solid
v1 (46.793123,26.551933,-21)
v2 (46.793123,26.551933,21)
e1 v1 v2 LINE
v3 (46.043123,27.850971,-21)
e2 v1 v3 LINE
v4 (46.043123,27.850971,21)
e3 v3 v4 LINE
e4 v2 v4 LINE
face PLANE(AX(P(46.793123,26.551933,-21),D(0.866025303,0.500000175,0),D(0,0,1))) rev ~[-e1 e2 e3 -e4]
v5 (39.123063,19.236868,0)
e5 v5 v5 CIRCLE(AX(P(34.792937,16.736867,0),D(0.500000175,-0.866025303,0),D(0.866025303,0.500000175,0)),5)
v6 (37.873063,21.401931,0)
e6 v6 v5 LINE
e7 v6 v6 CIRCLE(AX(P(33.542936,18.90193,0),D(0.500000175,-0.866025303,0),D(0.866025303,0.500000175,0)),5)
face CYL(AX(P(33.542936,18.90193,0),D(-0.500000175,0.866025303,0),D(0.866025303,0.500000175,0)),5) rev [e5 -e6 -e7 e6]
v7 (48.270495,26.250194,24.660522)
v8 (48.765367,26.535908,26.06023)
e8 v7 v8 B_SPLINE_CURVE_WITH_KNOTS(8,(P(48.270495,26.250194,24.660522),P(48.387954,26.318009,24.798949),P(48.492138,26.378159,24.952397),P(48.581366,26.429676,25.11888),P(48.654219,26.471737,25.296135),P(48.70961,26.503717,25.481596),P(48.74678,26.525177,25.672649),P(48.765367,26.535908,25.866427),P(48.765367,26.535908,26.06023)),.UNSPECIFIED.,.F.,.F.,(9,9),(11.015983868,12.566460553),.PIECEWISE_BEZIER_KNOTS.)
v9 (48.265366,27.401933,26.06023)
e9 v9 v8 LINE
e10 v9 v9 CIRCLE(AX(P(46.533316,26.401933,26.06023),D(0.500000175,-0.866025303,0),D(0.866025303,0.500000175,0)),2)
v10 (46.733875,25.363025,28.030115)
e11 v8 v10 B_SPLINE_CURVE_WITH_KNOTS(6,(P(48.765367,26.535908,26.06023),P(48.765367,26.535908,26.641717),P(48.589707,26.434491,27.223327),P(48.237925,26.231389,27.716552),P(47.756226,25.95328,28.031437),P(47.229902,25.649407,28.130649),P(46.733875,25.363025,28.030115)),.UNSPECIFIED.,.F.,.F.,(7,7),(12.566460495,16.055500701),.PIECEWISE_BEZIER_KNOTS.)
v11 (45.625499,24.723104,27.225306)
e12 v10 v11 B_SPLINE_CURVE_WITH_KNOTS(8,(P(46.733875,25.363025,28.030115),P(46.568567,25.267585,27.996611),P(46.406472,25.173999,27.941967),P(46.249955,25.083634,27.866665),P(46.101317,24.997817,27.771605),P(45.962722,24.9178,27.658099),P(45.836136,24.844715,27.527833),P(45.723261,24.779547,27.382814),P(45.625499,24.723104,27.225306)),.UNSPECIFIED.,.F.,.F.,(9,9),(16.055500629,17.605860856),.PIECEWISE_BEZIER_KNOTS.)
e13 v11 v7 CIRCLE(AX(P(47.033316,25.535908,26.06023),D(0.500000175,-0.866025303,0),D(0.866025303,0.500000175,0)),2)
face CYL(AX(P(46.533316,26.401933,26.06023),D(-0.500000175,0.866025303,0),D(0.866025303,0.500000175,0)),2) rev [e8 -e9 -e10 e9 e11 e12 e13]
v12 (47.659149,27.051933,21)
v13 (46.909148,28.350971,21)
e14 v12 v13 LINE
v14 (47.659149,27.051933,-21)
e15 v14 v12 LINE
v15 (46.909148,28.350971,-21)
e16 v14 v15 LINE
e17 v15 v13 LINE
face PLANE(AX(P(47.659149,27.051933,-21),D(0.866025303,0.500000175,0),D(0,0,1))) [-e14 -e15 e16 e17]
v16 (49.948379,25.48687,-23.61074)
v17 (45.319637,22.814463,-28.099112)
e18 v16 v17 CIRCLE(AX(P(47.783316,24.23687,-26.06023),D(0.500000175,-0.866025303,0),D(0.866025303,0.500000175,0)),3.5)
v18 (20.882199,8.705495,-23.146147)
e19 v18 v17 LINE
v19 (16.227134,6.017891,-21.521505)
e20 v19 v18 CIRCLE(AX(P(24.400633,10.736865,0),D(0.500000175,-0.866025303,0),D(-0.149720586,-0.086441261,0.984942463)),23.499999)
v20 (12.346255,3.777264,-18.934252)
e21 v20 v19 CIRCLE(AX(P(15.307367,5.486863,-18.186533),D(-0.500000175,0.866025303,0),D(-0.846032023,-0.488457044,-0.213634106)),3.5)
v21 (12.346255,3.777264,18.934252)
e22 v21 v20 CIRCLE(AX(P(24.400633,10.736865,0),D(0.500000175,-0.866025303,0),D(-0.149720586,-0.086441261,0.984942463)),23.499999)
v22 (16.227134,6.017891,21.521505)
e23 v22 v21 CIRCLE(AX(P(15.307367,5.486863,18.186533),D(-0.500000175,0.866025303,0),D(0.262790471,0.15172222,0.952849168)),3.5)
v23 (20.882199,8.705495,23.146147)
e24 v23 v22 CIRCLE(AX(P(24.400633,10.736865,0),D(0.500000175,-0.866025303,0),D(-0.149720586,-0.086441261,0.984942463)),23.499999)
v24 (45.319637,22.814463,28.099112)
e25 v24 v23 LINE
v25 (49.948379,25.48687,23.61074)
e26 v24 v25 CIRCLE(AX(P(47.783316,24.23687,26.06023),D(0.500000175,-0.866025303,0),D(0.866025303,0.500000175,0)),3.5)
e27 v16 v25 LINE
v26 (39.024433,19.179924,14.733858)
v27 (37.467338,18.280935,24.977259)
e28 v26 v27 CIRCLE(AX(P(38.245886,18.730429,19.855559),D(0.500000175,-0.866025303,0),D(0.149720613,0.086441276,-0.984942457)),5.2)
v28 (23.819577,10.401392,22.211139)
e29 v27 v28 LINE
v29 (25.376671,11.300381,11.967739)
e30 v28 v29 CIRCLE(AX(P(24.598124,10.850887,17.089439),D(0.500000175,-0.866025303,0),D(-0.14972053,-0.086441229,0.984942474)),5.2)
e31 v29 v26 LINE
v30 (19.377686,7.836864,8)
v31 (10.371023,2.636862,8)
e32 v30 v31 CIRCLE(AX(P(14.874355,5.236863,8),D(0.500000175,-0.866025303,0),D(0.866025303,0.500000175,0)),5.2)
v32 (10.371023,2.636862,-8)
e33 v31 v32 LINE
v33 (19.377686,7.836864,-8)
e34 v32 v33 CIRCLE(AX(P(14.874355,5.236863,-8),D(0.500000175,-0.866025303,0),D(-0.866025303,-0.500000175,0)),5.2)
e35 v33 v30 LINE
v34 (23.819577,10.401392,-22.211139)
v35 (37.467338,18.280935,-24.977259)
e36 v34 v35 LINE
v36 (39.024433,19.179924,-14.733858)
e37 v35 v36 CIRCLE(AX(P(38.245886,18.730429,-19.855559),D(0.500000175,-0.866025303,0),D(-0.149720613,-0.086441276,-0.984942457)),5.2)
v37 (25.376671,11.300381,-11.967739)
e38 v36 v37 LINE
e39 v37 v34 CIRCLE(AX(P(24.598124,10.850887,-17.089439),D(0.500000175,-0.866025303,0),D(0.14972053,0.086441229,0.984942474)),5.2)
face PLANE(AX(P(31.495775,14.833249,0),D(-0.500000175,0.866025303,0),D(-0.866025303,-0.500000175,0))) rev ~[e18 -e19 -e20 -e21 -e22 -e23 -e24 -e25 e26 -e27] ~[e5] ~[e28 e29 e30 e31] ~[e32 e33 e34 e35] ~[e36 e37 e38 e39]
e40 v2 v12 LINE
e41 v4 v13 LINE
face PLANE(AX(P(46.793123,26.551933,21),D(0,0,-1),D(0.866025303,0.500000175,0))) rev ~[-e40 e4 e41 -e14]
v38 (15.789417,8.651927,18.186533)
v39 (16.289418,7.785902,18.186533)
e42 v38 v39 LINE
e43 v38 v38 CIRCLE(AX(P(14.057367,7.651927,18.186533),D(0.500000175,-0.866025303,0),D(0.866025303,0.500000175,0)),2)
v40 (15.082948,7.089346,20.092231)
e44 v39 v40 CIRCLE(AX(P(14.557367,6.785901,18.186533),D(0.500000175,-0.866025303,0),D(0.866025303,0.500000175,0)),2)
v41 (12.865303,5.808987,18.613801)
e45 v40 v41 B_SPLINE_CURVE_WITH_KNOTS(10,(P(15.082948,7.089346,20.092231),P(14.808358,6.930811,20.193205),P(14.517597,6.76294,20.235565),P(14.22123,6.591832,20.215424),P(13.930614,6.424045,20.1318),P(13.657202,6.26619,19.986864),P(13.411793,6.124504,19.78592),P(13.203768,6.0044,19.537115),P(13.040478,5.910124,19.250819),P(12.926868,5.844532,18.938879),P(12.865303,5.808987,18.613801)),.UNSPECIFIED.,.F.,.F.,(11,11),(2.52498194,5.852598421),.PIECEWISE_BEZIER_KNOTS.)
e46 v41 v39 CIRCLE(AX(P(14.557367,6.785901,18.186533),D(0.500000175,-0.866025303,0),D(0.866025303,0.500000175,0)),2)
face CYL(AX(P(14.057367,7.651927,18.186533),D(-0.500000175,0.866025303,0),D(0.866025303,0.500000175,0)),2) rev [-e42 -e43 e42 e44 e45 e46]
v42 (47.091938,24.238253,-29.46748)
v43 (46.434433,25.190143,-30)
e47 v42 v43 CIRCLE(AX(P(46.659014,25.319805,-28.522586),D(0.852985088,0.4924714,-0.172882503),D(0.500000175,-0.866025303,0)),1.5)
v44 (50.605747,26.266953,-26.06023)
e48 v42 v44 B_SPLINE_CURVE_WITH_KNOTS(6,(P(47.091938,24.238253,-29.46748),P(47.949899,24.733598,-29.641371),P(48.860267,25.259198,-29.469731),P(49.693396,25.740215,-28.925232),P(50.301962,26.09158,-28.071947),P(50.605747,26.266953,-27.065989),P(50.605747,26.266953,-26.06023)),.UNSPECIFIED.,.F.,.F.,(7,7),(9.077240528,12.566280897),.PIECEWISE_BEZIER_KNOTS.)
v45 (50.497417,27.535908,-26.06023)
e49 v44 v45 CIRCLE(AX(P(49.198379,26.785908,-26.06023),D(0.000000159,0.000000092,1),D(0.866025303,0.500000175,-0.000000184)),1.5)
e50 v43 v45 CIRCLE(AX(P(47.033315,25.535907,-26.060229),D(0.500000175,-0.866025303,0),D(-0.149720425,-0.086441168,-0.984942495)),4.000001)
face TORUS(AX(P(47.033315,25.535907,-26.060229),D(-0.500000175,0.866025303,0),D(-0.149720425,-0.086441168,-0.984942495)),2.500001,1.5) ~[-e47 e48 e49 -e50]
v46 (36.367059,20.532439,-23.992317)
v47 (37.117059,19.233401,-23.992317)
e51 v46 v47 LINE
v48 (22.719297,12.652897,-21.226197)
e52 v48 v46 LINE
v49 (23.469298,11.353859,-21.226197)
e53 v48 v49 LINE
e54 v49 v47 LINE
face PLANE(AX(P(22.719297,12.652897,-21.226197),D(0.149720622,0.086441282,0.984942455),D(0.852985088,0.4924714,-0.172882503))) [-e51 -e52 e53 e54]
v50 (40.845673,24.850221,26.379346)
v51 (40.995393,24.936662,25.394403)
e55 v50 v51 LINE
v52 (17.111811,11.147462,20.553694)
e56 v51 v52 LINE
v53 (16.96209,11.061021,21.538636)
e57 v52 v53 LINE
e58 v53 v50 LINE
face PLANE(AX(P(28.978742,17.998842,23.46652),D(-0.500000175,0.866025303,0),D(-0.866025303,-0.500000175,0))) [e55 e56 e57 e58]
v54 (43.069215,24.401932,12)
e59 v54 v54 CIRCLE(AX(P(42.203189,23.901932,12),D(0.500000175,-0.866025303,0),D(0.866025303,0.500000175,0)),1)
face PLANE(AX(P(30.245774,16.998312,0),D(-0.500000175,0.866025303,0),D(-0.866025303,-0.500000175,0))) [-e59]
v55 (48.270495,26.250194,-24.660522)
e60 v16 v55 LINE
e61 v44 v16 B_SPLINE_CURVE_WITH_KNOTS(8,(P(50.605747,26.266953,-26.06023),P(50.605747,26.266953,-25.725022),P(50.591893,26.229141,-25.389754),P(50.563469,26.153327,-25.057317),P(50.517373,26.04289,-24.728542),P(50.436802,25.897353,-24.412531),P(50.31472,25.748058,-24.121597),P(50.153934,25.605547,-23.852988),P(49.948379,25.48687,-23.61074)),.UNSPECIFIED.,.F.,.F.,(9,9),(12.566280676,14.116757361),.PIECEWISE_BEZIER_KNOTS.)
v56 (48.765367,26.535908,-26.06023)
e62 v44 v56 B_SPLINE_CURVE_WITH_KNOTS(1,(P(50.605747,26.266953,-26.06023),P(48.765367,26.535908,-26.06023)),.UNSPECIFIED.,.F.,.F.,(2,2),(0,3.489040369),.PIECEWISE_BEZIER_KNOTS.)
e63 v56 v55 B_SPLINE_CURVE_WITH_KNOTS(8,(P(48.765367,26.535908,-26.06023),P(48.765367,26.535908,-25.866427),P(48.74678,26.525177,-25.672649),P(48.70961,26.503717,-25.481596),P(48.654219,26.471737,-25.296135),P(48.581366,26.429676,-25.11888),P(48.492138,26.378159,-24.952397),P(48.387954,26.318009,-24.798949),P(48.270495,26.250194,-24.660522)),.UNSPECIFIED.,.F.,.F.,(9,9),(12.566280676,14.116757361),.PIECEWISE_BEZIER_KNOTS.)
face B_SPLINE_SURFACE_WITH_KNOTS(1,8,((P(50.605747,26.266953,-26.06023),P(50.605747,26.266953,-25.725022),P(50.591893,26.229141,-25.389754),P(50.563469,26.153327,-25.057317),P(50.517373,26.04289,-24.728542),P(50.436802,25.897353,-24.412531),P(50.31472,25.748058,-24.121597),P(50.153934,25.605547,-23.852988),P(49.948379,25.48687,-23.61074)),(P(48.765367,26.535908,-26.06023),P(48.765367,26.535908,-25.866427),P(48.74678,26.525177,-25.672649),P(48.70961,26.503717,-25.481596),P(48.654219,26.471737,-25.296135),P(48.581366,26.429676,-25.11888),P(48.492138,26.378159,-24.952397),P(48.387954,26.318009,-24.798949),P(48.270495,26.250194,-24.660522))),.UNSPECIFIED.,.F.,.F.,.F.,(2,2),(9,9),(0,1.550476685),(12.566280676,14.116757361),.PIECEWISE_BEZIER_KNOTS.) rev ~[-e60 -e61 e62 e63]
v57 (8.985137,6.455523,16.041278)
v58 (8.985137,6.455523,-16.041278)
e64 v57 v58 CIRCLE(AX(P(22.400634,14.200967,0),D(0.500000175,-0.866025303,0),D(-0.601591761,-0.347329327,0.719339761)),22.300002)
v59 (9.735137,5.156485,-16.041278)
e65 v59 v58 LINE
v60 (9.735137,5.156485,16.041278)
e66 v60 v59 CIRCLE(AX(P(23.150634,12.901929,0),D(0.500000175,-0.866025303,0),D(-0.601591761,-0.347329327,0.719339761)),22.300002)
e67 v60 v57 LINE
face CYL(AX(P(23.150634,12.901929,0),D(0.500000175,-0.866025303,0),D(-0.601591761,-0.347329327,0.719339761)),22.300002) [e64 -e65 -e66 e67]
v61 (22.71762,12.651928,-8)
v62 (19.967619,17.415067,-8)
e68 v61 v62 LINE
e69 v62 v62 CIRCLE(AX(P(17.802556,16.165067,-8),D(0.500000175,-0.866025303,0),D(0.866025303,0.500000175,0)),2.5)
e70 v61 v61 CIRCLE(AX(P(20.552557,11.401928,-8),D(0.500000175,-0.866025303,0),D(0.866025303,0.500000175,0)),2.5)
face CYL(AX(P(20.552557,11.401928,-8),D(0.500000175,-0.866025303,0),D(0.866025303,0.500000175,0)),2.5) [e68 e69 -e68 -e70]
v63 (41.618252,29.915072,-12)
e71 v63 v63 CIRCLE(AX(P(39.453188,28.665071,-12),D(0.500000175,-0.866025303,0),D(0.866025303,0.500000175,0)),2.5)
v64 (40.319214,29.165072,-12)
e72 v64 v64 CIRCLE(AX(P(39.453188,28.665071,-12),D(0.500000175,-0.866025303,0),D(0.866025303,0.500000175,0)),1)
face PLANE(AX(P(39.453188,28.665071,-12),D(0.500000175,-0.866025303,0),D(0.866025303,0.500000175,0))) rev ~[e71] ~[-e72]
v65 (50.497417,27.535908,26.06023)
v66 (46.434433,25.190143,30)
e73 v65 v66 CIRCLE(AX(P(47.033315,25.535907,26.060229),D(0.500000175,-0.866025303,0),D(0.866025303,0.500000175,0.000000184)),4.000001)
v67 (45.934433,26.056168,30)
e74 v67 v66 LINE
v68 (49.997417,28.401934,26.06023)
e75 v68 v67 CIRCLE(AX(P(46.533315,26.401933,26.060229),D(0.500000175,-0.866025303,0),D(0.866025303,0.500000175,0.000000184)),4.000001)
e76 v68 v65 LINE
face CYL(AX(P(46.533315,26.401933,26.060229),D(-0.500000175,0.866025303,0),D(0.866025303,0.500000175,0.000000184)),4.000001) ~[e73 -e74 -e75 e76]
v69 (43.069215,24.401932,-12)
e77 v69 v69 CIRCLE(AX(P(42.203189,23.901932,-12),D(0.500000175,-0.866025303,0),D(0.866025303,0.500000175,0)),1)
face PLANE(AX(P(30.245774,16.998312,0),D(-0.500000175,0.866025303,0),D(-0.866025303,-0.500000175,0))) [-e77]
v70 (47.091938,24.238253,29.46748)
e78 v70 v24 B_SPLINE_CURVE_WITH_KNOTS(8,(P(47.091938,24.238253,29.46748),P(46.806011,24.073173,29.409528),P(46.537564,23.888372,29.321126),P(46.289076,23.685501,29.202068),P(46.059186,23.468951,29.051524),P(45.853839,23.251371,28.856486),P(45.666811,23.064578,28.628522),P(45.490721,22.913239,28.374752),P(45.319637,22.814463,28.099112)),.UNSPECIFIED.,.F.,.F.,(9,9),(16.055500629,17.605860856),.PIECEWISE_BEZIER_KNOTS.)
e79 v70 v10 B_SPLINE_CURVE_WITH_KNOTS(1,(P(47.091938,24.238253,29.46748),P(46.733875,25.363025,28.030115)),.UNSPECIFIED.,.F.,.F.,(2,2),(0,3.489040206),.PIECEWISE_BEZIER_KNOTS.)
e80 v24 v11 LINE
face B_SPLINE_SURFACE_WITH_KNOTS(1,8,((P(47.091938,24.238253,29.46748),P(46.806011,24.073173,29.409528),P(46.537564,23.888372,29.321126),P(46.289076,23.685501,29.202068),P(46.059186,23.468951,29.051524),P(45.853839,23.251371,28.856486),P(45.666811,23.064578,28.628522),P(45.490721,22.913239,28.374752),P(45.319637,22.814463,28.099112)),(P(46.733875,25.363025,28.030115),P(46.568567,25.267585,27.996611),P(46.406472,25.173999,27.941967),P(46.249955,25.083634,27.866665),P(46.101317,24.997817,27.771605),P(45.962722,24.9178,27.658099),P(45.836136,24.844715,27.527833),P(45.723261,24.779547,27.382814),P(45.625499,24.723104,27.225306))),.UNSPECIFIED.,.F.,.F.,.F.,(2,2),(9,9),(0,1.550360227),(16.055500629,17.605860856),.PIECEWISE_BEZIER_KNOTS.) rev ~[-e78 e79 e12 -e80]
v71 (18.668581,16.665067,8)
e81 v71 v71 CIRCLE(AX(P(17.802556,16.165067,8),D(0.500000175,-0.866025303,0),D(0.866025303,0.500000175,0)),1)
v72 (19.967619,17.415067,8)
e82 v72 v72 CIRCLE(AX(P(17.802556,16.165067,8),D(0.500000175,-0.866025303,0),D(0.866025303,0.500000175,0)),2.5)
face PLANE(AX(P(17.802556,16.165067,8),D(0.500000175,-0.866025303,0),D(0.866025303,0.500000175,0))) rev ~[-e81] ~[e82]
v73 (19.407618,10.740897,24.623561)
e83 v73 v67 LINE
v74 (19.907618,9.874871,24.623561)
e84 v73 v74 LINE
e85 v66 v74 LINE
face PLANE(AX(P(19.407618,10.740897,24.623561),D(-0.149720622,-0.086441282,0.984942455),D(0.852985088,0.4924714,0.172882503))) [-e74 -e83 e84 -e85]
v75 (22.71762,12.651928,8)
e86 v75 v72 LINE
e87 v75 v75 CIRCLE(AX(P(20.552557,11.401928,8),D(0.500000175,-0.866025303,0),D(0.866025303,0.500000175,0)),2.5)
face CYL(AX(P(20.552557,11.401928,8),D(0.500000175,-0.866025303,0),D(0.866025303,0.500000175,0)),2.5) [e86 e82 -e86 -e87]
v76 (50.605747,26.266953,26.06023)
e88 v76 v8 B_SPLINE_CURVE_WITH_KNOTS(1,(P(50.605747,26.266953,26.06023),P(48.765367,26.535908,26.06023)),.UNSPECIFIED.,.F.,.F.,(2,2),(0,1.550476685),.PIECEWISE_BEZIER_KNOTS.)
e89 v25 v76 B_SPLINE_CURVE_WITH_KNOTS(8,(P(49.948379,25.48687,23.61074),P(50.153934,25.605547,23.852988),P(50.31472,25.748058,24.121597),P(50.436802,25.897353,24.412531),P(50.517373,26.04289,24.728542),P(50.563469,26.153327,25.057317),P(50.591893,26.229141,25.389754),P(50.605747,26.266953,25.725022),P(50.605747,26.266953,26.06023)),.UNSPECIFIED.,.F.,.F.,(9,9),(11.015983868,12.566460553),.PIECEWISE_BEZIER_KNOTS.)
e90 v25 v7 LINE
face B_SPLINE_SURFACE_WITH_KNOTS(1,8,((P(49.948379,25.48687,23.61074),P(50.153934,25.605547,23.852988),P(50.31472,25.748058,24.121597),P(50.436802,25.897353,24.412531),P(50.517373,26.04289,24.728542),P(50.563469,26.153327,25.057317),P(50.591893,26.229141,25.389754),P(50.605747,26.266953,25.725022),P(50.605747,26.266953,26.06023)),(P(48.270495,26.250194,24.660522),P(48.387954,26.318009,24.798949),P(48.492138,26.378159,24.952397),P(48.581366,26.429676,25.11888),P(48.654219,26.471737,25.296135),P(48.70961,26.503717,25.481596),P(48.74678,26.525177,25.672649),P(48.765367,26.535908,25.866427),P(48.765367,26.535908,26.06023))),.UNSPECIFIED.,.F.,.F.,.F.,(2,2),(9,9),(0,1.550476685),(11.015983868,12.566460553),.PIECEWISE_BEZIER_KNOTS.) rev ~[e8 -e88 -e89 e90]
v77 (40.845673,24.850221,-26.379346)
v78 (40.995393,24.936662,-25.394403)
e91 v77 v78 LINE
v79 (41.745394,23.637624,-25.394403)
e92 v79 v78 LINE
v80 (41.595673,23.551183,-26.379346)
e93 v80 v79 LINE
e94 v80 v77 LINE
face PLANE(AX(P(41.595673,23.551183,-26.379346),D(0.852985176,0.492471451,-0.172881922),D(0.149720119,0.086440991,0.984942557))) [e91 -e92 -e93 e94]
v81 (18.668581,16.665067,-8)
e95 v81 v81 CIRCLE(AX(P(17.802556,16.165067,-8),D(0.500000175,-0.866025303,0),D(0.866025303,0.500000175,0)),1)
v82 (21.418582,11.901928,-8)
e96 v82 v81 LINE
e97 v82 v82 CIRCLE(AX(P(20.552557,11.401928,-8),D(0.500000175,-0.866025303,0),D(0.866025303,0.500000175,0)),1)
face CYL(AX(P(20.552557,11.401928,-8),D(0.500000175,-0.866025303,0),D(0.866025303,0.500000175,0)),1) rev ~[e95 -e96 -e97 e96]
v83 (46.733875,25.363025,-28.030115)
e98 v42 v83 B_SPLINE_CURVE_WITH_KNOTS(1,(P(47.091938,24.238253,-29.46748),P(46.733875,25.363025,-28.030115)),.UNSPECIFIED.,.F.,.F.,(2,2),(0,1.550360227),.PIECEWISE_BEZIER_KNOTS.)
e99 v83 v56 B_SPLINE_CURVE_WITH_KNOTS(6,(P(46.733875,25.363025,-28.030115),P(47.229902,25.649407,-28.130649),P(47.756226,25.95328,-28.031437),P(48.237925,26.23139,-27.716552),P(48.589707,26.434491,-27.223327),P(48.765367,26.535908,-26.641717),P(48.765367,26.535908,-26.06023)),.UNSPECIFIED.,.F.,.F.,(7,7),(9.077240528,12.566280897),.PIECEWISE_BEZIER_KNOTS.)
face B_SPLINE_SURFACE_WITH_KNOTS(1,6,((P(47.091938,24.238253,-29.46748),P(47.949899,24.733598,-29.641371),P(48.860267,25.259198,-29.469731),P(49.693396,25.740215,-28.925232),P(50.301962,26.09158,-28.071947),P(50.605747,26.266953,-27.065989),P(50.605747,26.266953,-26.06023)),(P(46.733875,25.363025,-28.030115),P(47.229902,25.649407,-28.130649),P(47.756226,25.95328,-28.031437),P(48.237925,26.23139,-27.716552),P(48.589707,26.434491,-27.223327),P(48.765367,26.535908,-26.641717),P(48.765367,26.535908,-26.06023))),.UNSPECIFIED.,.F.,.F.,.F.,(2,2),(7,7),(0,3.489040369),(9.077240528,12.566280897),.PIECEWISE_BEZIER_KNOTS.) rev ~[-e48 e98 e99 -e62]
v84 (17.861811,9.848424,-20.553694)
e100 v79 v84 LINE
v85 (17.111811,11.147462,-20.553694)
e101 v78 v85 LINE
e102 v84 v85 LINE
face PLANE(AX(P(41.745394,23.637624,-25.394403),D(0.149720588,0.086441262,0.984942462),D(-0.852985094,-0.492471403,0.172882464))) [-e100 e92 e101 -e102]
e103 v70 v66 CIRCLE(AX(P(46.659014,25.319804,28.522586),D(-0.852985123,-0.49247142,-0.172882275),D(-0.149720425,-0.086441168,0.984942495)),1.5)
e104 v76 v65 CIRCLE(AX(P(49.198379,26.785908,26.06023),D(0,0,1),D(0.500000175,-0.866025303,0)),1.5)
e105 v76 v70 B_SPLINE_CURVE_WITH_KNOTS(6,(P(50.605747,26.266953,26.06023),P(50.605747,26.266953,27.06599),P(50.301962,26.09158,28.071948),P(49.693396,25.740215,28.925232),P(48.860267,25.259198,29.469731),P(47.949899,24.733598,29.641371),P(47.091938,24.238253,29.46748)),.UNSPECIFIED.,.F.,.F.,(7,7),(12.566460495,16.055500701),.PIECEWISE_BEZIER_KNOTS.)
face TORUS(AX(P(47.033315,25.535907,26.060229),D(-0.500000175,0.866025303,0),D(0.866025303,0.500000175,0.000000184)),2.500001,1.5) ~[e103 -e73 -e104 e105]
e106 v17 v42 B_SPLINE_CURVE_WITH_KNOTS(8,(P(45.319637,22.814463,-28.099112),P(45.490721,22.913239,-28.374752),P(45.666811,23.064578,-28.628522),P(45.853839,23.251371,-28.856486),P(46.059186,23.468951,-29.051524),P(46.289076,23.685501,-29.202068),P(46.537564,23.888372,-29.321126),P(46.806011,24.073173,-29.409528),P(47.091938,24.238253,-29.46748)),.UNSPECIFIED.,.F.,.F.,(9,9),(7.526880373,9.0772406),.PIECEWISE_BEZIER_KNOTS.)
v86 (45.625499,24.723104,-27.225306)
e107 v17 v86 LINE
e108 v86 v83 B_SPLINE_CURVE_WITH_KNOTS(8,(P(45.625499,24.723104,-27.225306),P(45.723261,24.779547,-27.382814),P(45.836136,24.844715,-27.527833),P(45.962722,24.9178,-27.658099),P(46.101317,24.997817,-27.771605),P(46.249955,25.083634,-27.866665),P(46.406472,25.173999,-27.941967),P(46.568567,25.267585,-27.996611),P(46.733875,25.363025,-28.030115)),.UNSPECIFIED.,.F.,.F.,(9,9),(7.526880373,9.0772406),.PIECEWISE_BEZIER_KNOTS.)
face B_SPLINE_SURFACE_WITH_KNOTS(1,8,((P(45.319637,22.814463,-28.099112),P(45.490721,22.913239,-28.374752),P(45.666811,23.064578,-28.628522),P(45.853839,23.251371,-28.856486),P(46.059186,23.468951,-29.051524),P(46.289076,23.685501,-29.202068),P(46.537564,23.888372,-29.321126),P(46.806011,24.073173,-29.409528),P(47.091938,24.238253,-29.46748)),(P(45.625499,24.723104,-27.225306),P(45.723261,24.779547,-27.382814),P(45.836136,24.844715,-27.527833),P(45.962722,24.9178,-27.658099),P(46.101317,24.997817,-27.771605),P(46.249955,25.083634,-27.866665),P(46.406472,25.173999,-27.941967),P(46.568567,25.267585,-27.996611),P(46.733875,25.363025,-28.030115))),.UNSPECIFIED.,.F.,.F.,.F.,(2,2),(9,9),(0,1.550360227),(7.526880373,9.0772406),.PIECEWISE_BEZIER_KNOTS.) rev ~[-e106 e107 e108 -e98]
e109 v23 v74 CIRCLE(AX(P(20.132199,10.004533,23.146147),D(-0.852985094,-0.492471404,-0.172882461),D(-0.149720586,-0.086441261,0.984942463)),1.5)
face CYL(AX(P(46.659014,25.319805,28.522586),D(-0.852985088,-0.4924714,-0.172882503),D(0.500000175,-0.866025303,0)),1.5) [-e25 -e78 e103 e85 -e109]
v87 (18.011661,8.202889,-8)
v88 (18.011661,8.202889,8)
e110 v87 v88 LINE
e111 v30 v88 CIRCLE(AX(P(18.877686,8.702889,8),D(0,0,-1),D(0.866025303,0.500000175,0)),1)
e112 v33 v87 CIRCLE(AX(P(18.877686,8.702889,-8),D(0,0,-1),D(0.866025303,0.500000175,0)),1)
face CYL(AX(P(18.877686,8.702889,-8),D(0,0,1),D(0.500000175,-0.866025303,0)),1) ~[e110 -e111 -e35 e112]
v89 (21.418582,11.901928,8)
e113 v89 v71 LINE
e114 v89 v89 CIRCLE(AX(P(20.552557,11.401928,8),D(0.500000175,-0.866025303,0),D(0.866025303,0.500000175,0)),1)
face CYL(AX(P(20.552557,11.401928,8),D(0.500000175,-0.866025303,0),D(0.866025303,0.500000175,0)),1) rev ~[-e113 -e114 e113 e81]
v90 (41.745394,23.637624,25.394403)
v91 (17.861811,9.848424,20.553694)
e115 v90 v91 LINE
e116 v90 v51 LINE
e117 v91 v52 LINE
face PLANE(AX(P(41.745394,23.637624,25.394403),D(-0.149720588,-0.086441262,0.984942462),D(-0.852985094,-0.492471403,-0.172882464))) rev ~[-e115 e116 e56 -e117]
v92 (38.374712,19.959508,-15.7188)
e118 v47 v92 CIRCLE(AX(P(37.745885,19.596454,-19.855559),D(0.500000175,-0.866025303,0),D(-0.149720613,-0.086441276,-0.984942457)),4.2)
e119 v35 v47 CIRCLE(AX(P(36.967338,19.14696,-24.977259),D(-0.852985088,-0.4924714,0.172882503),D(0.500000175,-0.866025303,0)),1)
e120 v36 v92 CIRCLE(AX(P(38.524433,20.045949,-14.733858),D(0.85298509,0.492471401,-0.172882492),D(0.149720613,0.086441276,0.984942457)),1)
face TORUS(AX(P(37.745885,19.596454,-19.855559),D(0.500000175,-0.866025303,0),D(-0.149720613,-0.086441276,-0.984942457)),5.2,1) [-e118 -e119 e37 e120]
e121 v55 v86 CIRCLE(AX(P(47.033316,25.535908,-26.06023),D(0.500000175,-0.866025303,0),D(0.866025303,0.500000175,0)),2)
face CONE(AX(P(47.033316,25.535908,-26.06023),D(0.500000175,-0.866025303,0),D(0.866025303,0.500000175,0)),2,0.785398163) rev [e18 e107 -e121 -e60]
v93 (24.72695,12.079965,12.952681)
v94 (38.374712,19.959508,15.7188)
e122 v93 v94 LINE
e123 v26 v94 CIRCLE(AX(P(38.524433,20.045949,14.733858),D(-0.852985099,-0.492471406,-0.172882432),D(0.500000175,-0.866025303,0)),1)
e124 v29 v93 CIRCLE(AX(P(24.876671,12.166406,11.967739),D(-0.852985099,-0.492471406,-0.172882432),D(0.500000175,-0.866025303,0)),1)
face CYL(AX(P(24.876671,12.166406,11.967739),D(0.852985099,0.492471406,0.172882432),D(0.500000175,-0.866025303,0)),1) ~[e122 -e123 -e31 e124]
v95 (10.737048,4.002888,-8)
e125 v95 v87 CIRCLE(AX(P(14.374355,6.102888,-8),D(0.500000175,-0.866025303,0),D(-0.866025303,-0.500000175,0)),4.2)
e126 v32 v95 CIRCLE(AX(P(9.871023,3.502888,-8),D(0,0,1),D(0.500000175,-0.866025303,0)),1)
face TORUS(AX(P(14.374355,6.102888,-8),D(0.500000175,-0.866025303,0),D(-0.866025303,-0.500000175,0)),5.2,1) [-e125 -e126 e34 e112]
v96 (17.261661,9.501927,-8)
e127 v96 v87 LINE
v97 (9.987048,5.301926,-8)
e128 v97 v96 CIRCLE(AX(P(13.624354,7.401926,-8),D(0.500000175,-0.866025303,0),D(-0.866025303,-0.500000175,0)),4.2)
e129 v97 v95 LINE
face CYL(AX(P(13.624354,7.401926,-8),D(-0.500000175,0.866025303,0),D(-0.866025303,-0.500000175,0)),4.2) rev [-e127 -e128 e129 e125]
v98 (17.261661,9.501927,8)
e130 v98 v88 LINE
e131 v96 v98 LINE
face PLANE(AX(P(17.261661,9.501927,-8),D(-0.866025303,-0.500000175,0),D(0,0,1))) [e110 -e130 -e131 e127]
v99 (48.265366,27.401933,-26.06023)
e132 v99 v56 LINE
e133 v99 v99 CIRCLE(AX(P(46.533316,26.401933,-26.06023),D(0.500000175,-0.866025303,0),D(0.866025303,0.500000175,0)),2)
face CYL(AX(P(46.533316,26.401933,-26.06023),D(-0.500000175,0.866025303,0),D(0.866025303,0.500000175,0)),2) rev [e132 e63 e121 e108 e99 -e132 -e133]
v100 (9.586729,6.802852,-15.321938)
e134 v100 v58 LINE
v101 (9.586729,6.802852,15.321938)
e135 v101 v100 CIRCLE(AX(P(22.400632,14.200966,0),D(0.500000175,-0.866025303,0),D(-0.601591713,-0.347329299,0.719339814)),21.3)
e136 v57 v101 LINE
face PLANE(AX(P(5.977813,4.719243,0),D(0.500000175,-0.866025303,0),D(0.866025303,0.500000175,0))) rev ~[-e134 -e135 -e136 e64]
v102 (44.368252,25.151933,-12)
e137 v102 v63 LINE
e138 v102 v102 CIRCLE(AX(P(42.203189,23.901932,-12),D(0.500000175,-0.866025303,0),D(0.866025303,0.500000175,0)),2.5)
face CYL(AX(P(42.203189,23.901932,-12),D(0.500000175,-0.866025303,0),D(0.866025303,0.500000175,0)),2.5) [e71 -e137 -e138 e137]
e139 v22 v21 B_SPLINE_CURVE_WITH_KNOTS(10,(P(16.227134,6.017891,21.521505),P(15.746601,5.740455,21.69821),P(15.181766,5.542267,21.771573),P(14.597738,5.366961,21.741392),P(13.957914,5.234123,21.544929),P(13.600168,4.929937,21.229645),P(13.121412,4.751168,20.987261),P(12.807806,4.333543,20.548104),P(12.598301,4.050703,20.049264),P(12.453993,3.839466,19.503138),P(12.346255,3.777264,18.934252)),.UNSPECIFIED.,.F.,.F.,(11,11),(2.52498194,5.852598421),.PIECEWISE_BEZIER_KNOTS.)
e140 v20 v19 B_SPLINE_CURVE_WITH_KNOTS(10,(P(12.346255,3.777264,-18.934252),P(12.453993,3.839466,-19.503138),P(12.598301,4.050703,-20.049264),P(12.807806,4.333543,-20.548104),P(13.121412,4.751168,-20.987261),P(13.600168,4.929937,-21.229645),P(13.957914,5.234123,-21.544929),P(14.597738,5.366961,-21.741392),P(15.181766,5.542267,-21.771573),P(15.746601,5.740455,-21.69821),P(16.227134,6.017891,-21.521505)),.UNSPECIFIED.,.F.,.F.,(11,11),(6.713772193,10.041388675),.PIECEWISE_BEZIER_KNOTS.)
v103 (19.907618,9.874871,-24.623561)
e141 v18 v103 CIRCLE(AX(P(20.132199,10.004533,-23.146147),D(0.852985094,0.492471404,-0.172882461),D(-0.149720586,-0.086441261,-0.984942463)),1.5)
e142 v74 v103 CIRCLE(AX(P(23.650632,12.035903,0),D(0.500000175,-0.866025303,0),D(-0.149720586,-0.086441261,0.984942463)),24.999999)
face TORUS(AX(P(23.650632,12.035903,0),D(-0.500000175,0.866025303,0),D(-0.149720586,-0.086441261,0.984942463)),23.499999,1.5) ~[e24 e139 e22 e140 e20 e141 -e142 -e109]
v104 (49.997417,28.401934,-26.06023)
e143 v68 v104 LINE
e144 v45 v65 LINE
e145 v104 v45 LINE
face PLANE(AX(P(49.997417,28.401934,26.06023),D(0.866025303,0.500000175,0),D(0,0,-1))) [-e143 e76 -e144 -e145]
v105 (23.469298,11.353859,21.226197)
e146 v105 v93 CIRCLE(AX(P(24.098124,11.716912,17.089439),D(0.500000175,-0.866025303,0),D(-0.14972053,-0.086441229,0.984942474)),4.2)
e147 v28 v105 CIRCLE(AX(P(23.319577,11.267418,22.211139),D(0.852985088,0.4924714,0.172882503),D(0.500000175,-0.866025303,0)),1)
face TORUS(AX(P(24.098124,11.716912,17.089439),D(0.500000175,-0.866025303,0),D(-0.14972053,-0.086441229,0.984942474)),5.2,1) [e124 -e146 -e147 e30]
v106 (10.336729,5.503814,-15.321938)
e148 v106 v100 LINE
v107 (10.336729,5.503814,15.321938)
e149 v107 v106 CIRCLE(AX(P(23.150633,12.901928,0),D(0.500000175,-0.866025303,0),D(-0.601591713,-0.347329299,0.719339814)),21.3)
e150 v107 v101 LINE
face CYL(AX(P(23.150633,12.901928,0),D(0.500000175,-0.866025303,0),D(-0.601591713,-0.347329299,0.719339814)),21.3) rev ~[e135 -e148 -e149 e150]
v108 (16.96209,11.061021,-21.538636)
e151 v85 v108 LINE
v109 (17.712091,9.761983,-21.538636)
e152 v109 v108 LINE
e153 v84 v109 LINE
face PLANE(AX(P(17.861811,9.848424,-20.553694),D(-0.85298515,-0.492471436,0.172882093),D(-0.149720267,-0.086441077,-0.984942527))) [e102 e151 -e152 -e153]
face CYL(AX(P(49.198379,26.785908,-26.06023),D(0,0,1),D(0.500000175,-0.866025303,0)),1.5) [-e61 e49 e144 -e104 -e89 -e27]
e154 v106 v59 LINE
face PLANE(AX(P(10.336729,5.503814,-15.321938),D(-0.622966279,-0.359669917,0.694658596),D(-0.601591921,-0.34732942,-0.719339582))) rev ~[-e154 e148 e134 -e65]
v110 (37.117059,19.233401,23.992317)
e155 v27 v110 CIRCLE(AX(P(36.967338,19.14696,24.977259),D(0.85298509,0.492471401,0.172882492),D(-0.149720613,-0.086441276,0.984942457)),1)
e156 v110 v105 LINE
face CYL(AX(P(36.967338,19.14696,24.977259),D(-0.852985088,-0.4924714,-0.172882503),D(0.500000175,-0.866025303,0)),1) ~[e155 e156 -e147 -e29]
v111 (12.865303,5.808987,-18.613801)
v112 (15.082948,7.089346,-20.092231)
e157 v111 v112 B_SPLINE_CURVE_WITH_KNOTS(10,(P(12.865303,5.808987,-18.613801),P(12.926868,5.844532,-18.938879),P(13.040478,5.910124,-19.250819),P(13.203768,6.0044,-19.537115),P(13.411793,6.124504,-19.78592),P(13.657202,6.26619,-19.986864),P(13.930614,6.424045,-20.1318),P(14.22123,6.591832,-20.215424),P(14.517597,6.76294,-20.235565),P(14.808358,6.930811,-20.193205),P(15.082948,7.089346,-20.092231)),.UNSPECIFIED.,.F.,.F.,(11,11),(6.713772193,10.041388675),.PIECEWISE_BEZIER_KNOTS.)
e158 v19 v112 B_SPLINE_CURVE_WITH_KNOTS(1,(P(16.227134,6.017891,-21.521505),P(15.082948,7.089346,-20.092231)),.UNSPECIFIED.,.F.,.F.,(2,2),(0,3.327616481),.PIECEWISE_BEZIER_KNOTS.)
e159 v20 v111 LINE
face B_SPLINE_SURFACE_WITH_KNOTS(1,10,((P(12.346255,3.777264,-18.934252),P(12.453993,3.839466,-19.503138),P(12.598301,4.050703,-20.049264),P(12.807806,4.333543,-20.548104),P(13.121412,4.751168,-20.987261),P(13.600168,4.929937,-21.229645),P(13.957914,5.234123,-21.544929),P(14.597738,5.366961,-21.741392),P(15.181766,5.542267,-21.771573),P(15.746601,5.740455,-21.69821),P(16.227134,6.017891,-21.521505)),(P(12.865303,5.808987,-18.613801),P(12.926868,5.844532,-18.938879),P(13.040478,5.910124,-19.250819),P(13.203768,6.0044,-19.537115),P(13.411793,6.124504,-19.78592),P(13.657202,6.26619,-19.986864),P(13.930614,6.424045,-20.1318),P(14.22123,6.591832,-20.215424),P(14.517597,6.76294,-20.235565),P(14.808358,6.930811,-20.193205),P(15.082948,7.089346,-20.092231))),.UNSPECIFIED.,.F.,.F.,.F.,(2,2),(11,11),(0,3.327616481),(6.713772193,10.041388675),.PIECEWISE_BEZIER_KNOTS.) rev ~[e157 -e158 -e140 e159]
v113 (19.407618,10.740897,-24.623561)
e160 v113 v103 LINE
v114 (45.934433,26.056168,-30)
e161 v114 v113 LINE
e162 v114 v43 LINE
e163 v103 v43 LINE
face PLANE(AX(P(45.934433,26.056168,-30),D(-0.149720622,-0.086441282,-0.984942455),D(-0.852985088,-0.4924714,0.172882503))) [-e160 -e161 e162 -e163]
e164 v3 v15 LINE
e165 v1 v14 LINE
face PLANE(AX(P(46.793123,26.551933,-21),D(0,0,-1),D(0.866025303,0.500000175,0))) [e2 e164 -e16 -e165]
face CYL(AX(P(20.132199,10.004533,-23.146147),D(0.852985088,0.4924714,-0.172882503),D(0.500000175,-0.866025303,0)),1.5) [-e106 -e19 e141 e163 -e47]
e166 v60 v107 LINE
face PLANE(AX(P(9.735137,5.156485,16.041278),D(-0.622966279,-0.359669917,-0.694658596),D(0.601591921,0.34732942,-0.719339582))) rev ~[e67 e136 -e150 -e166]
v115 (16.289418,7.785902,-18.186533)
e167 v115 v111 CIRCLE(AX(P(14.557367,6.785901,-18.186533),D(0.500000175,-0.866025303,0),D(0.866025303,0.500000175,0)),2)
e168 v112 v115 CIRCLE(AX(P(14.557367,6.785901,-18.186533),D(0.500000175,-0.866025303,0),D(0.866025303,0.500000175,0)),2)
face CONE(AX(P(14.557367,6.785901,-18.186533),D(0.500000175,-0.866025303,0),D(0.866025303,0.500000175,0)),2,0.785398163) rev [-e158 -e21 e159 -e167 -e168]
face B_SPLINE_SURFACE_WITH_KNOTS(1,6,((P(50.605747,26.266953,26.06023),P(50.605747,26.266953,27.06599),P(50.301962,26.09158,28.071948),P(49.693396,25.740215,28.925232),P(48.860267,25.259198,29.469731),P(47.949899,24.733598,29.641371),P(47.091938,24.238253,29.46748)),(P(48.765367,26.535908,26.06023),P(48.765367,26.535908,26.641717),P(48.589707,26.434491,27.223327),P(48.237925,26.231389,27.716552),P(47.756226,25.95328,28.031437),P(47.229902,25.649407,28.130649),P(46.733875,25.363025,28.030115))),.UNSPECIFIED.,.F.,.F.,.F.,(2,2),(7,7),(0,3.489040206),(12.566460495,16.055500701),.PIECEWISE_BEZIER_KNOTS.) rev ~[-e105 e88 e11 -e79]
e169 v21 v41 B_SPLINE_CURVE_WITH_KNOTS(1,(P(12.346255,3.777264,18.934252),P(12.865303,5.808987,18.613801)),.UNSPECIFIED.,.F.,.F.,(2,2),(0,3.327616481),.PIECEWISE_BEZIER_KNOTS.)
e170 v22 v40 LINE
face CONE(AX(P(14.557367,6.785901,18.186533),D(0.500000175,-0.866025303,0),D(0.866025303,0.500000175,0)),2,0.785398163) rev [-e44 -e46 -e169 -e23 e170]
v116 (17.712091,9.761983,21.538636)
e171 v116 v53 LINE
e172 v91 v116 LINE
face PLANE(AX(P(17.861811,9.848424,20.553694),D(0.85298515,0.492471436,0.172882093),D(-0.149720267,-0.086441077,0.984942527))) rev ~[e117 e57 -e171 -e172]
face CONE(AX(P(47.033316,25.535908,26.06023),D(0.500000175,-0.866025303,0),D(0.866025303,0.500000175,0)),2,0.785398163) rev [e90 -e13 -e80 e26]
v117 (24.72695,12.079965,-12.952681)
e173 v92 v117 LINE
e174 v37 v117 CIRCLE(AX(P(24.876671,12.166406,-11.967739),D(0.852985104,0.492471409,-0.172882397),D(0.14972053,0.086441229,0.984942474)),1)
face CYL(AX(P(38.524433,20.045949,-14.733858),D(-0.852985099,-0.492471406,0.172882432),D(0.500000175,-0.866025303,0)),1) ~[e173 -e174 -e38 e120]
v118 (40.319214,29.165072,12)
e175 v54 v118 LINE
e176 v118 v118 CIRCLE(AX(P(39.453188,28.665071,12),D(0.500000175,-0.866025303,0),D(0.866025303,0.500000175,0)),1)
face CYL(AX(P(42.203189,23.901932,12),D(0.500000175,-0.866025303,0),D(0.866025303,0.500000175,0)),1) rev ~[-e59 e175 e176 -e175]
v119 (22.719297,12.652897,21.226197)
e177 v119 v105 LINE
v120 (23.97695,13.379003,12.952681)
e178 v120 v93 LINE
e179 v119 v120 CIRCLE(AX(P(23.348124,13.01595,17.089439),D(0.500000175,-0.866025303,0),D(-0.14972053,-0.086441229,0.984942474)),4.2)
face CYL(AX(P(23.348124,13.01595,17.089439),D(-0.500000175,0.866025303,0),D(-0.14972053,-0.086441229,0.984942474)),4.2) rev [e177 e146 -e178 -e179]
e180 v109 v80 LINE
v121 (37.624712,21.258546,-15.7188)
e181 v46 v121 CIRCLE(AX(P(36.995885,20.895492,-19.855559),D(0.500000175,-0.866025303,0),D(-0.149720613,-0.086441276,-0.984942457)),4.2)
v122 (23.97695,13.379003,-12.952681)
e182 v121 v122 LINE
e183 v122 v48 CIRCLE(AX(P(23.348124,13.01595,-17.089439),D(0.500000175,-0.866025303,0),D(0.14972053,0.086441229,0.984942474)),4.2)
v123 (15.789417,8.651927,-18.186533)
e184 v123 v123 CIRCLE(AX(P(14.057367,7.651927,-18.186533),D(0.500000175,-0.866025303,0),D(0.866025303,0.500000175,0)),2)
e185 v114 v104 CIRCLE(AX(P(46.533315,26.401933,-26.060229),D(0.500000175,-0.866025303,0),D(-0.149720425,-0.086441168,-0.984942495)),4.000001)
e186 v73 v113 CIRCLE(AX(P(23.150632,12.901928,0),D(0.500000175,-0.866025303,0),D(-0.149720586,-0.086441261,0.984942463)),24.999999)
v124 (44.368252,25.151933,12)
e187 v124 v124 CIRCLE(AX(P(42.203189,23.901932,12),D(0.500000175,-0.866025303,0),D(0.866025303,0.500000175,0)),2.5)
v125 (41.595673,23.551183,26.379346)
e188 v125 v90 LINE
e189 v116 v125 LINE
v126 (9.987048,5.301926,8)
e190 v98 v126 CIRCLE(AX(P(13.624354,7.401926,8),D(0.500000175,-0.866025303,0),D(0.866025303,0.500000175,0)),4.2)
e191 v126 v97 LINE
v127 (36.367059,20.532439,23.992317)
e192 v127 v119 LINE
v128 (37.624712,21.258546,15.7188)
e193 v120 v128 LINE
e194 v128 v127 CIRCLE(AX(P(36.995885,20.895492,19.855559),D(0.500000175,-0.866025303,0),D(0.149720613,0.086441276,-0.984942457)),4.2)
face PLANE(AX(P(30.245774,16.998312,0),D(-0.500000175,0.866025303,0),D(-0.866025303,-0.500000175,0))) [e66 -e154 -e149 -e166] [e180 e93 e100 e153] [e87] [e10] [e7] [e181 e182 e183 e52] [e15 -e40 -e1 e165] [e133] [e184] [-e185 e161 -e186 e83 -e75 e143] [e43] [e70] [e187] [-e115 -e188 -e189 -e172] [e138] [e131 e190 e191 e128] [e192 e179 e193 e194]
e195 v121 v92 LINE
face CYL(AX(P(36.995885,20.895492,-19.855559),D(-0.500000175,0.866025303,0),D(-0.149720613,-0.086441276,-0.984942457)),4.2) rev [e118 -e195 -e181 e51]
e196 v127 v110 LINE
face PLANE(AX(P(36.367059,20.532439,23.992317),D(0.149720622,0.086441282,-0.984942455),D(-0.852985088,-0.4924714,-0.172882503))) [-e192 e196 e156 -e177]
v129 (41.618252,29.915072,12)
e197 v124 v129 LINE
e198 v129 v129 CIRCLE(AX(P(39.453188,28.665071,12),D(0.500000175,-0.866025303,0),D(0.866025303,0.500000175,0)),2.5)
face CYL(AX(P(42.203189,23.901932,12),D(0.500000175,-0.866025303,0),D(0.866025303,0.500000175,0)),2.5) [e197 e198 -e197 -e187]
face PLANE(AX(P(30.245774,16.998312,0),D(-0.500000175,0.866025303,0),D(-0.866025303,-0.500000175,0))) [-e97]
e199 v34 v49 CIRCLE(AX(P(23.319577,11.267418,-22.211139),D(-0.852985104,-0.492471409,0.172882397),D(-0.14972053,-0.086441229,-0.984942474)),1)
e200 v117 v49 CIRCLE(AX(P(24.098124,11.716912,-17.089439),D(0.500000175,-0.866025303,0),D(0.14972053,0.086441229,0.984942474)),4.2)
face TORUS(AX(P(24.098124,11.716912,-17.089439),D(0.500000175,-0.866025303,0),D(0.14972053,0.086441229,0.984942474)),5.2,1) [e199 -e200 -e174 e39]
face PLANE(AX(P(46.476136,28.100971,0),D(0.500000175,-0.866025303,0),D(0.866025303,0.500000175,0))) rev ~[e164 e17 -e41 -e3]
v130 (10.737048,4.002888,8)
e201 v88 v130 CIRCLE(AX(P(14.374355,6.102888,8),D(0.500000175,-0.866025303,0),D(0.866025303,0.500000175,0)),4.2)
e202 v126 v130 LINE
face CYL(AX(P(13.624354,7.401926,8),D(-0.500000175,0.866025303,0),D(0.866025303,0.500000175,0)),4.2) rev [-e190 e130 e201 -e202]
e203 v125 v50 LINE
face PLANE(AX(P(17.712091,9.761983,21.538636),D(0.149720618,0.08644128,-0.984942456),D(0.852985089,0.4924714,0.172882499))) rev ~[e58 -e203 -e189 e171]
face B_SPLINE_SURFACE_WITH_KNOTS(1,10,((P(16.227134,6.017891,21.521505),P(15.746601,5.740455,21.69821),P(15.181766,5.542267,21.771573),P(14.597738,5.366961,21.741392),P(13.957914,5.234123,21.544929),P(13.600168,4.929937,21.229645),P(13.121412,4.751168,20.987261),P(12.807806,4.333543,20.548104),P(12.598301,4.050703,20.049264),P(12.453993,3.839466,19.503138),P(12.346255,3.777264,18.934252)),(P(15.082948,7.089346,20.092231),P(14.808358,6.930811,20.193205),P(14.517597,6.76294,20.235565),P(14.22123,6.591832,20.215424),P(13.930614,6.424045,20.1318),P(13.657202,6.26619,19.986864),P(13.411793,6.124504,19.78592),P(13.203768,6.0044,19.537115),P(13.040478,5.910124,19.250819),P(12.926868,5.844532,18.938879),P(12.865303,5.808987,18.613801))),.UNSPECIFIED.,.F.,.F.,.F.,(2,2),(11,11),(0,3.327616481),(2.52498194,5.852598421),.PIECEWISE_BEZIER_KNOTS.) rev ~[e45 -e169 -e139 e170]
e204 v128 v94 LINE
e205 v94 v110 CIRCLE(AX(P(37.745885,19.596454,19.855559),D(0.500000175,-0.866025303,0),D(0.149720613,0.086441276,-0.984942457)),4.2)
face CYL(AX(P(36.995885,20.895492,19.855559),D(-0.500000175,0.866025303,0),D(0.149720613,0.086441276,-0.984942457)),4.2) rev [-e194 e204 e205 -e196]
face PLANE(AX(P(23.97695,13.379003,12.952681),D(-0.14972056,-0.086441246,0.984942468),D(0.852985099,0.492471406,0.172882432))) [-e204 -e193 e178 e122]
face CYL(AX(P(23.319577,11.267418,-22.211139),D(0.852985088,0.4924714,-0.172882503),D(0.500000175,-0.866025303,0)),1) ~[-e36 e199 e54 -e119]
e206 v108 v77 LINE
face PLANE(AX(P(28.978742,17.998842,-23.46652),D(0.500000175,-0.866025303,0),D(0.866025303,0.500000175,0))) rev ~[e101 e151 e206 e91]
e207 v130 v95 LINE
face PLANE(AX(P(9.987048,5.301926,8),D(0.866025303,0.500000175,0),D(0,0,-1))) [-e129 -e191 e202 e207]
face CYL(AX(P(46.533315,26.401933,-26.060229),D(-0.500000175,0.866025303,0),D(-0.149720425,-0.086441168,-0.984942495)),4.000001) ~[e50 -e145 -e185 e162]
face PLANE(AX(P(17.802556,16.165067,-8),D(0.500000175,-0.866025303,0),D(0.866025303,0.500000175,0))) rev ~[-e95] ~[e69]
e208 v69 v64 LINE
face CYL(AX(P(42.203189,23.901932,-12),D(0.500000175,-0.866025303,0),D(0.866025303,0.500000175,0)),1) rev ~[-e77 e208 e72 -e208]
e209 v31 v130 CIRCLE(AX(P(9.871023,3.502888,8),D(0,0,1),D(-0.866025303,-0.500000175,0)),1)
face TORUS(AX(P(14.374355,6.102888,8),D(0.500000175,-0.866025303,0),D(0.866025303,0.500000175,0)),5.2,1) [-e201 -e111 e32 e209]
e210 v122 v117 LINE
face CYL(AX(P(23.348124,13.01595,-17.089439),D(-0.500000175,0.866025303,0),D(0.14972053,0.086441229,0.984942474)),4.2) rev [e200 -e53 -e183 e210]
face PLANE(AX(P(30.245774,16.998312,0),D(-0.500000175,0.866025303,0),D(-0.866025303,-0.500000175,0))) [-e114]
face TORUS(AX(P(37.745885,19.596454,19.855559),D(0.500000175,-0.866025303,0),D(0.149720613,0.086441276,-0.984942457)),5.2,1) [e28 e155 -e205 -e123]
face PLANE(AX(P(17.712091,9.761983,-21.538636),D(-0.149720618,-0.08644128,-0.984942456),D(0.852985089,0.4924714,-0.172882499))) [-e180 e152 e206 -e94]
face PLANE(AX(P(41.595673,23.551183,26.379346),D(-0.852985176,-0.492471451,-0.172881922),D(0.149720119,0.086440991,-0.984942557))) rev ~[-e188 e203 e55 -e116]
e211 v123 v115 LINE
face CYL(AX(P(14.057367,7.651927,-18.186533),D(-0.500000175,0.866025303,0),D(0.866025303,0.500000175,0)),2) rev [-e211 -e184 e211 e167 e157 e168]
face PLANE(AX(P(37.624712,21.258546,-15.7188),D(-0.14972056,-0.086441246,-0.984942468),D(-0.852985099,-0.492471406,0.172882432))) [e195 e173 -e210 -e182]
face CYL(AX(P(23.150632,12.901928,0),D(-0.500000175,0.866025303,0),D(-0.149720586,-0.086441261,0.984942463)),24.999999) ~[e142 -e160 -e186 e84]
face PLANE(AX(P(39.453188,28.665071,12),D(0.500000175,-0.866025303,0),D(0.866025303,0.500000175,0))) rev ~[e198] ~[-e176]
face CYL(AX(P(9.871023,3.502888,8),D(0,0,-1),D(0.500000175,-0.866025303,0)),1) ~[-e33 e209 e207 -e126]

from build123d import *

# Parameters (mm, degrees)
SKETCH064_R   = 5
SKETCH064_R_2 = 2
PAD034_DEPTH  = 2.5
SKETCH065_W   = 1
SKETCH065_H   = 42
PAD035_DEPTH  = 1.5
SKETCH093_R   = 2.5
SKETCH093_R_2 = 1
PAD058_DEPTH  = 5.5
FILLET001_R   = 1
FILLET002_R   = 1.5
CHAMFER_SIZE  = 1.5


with BuildPart() as part:
    # Sketch064 (on DatumPlane) → Pad034 (new body)
    with BuildSketch(Plane(origin=(1.5, 0.401924, 0), x_dir=(0.866025, 0.5, 0), z_dir=(0.5, -0.866025, 0))):
        with BuildLine():
            Line((56, 26.06023), (56, -26.06023))
            ThreePointArc((51.30847, -30), (54.572341, -29.123408), (56, -26.06023))
            Line((51.30847, -30), (20.677938, -24.623561))
            ThreePointArc((20.677938, 24.623561), (0, 0), (20.677938, -24.623561))
            Line((20.677938, 24.623561), (51.30847, 30))
            ThreePointArc((56, 26.06023), (54.572341, 29.123408), (51.30847, 30))
        make_face()
        with Locations((37, 0)):
            Circle(SKETCH064_R, mode=Mode.SUBTRACT)
        with Locations((52, 26.06023)):
            Circle(SKETCH064_R_2, mode=Mode.SUBTRACT)
        with Locations((52, -26.06023)):
            Circle(SKETCH064_R_2, mode=Mode.SUBTRACT)
        with Locations((14.5, -18.186533)):
            Circle(SKETCH064_R_2, mode=Mode.SUBTRACT)
        with Locations((14.5, 18.186533)):
            Circle(SKETCH064_R_2, mode=Mode.SUBTRACT)
        with BuildLine():
            ThreePointArc((24.501937, 21.226197), (21.091285, 16.363333), (25.954149, 12.952681))
            Line((25.954149, 12.952681), (41.713229, 15.7188))
            ThreePointArc((41.713229, 15.7188), (45.123881, 20.581665), (40.261016, 23.992317))
            Line((40.261016, 23.992317), (24.501937, 21.226197))
        make_face(mode=Mode.SUBTRACT)
        with BuildLine():
            ThreePointArc((25.954149, -12.952681), (21.091285, -16.363333), (24.501937, -21.226197))
            Line((24.501937, -21.226197), (40.261016, -23.992317))
            ThreePointArc((40.261016, -23.992317), (45.123881, -20.581665), (41.713229, -15.7188))
            Line((41.713229, -15.7188), (25.954149, -12.952681))
        make_face(mode=Mode.SUBTRACT)
        with BuildLine():
            ThreePointArc((9.8, -8), (14, -12.2), (18.2, -8))
            Line((18.2, -8), (18.2, 8))
            ThreePointArc((18.2, 8), (14, 12.2), (9.8, 8))
            Line((9.8, 8), (9.8, -8))
        make_face(mode=Mode.SUBTRACT)
    extrude(amount=PAD034_DEPTH)

    # Sketch065 (on DatumPlane) → Pad035 (join)
    with BuildSketch(Plane(origin=(1.5, 0.401924, 0), x_dir=(0.866025, 0.5, 0), z_dir=(0.5, -0.866025, 0))):
        with BuildLine():
            ThreePointArc((9.509118, 16.041278), (2.7, 0), (9.509118, -16.041278))
            Line((10.203777, -15.321938), (9.509118, -16.041278))
            ThreePointArc((10.203777, 15.321938), (3.7, 0), (10.203777, -15.321938))
            Line((9.509118, 16.041278), (10.203777, 15.321938))
        make_face()
        with Locations((52.8, 0)):
            Rectangle(SKETCH065_W, SKETCH065_H)
        Polygon((18.720112, 21.538636), (46.298501, 26.379346), (46.471383, 25.394403), (18.892994, 20.553694), align=None)
        Polygon((18.720112, -21.538636), (46.298501, -26.379346), (46.471383, -25.394403), (18.892994, -20.553694), align=None)
    extrude(amount=-PAD035_DEPTH)

    # Sketch093 (on DatumPlane) → Pad058 (join)
    with BuildSketch(Plane(origin=(1.5, 0.401924, 0), x_dir=(0.866025, 0.5, 0), z_dir=(0.5, -0.866025, 0))):
        with Locations((22, 8)):
            Circle(SKETCH093_R)
        with Locations((22, 8)):
            Circle(SKETCH093_R_2, mode=Mode.SUBTRACT)
        with Locations((47, 12)):
            Circle(SKETCH093_R)
        with Locations((47, 12)):
            Circle(SKETCH093_R_2, mode=Mode.SUBTRACT)
        with Locations((47, -12)):
            Circle(SKETCH093_R)
        with Locations((47, -12)):
            Circle(SKETCH093_R_2, mode=Mode.SUBTRACT)
        with Locations((22, -8)):
            Circle(SKETCH093_R)
        with Locations((22, -8)):
            Circle(SKETCH093_R_2, mode=Mode.SUBTRACT)
    extrude(amount=-PAD058_DEPTH)

    # Fillet001
    fillet001_edges = [part.edges().sort_by_distance(p)[0] for p in [
        (14.874356, 5.23686, 12.2),
        (18.511662, 7.33686, 0),
        (14.874356, 5.23686, -12.2),
        (11.237049, 3.13686, 0),
        (21.015588, 8.782503, -16.363333),
        (32.050834, 15.153705, -14.335741),
        (41.828427, 20.798801, -20.581665),
        (30.793181, 14.427598, -22.609257),
        (32.050834, 15.153705, 14.335741),
        (41.828427, 20.798801, 20.581665),
        (30.793181, 14.427598, 22.609257),
        (21.015588, 8.782503, 16.363333),
    ]]
    fillet(fillet001_edges, radius=FILLET001_R)

    # Fillet002
    fillet002_edges = [part.edges().sort_by_distance(p)[0] for p in [
        (2.75, -1.76314, 0),
    ]]
    fillet(fillet002_edges, radius=FILLET002_R)

    # Chamfer
    chamfer_edges = [part.edges().sort_by_distance(p)[0] for p in [
        (13.575318, 4.48686, -18.186533),
        (13.575318, 4.48686, 18.186533),
        (46.05127, 23.23686, 26.06023),
        (46.05127, 23.23686, -26.06023),
    ]]
    chamfer(chamfer_edges, length=CHAMFER_SIZE)


solid = part.part
